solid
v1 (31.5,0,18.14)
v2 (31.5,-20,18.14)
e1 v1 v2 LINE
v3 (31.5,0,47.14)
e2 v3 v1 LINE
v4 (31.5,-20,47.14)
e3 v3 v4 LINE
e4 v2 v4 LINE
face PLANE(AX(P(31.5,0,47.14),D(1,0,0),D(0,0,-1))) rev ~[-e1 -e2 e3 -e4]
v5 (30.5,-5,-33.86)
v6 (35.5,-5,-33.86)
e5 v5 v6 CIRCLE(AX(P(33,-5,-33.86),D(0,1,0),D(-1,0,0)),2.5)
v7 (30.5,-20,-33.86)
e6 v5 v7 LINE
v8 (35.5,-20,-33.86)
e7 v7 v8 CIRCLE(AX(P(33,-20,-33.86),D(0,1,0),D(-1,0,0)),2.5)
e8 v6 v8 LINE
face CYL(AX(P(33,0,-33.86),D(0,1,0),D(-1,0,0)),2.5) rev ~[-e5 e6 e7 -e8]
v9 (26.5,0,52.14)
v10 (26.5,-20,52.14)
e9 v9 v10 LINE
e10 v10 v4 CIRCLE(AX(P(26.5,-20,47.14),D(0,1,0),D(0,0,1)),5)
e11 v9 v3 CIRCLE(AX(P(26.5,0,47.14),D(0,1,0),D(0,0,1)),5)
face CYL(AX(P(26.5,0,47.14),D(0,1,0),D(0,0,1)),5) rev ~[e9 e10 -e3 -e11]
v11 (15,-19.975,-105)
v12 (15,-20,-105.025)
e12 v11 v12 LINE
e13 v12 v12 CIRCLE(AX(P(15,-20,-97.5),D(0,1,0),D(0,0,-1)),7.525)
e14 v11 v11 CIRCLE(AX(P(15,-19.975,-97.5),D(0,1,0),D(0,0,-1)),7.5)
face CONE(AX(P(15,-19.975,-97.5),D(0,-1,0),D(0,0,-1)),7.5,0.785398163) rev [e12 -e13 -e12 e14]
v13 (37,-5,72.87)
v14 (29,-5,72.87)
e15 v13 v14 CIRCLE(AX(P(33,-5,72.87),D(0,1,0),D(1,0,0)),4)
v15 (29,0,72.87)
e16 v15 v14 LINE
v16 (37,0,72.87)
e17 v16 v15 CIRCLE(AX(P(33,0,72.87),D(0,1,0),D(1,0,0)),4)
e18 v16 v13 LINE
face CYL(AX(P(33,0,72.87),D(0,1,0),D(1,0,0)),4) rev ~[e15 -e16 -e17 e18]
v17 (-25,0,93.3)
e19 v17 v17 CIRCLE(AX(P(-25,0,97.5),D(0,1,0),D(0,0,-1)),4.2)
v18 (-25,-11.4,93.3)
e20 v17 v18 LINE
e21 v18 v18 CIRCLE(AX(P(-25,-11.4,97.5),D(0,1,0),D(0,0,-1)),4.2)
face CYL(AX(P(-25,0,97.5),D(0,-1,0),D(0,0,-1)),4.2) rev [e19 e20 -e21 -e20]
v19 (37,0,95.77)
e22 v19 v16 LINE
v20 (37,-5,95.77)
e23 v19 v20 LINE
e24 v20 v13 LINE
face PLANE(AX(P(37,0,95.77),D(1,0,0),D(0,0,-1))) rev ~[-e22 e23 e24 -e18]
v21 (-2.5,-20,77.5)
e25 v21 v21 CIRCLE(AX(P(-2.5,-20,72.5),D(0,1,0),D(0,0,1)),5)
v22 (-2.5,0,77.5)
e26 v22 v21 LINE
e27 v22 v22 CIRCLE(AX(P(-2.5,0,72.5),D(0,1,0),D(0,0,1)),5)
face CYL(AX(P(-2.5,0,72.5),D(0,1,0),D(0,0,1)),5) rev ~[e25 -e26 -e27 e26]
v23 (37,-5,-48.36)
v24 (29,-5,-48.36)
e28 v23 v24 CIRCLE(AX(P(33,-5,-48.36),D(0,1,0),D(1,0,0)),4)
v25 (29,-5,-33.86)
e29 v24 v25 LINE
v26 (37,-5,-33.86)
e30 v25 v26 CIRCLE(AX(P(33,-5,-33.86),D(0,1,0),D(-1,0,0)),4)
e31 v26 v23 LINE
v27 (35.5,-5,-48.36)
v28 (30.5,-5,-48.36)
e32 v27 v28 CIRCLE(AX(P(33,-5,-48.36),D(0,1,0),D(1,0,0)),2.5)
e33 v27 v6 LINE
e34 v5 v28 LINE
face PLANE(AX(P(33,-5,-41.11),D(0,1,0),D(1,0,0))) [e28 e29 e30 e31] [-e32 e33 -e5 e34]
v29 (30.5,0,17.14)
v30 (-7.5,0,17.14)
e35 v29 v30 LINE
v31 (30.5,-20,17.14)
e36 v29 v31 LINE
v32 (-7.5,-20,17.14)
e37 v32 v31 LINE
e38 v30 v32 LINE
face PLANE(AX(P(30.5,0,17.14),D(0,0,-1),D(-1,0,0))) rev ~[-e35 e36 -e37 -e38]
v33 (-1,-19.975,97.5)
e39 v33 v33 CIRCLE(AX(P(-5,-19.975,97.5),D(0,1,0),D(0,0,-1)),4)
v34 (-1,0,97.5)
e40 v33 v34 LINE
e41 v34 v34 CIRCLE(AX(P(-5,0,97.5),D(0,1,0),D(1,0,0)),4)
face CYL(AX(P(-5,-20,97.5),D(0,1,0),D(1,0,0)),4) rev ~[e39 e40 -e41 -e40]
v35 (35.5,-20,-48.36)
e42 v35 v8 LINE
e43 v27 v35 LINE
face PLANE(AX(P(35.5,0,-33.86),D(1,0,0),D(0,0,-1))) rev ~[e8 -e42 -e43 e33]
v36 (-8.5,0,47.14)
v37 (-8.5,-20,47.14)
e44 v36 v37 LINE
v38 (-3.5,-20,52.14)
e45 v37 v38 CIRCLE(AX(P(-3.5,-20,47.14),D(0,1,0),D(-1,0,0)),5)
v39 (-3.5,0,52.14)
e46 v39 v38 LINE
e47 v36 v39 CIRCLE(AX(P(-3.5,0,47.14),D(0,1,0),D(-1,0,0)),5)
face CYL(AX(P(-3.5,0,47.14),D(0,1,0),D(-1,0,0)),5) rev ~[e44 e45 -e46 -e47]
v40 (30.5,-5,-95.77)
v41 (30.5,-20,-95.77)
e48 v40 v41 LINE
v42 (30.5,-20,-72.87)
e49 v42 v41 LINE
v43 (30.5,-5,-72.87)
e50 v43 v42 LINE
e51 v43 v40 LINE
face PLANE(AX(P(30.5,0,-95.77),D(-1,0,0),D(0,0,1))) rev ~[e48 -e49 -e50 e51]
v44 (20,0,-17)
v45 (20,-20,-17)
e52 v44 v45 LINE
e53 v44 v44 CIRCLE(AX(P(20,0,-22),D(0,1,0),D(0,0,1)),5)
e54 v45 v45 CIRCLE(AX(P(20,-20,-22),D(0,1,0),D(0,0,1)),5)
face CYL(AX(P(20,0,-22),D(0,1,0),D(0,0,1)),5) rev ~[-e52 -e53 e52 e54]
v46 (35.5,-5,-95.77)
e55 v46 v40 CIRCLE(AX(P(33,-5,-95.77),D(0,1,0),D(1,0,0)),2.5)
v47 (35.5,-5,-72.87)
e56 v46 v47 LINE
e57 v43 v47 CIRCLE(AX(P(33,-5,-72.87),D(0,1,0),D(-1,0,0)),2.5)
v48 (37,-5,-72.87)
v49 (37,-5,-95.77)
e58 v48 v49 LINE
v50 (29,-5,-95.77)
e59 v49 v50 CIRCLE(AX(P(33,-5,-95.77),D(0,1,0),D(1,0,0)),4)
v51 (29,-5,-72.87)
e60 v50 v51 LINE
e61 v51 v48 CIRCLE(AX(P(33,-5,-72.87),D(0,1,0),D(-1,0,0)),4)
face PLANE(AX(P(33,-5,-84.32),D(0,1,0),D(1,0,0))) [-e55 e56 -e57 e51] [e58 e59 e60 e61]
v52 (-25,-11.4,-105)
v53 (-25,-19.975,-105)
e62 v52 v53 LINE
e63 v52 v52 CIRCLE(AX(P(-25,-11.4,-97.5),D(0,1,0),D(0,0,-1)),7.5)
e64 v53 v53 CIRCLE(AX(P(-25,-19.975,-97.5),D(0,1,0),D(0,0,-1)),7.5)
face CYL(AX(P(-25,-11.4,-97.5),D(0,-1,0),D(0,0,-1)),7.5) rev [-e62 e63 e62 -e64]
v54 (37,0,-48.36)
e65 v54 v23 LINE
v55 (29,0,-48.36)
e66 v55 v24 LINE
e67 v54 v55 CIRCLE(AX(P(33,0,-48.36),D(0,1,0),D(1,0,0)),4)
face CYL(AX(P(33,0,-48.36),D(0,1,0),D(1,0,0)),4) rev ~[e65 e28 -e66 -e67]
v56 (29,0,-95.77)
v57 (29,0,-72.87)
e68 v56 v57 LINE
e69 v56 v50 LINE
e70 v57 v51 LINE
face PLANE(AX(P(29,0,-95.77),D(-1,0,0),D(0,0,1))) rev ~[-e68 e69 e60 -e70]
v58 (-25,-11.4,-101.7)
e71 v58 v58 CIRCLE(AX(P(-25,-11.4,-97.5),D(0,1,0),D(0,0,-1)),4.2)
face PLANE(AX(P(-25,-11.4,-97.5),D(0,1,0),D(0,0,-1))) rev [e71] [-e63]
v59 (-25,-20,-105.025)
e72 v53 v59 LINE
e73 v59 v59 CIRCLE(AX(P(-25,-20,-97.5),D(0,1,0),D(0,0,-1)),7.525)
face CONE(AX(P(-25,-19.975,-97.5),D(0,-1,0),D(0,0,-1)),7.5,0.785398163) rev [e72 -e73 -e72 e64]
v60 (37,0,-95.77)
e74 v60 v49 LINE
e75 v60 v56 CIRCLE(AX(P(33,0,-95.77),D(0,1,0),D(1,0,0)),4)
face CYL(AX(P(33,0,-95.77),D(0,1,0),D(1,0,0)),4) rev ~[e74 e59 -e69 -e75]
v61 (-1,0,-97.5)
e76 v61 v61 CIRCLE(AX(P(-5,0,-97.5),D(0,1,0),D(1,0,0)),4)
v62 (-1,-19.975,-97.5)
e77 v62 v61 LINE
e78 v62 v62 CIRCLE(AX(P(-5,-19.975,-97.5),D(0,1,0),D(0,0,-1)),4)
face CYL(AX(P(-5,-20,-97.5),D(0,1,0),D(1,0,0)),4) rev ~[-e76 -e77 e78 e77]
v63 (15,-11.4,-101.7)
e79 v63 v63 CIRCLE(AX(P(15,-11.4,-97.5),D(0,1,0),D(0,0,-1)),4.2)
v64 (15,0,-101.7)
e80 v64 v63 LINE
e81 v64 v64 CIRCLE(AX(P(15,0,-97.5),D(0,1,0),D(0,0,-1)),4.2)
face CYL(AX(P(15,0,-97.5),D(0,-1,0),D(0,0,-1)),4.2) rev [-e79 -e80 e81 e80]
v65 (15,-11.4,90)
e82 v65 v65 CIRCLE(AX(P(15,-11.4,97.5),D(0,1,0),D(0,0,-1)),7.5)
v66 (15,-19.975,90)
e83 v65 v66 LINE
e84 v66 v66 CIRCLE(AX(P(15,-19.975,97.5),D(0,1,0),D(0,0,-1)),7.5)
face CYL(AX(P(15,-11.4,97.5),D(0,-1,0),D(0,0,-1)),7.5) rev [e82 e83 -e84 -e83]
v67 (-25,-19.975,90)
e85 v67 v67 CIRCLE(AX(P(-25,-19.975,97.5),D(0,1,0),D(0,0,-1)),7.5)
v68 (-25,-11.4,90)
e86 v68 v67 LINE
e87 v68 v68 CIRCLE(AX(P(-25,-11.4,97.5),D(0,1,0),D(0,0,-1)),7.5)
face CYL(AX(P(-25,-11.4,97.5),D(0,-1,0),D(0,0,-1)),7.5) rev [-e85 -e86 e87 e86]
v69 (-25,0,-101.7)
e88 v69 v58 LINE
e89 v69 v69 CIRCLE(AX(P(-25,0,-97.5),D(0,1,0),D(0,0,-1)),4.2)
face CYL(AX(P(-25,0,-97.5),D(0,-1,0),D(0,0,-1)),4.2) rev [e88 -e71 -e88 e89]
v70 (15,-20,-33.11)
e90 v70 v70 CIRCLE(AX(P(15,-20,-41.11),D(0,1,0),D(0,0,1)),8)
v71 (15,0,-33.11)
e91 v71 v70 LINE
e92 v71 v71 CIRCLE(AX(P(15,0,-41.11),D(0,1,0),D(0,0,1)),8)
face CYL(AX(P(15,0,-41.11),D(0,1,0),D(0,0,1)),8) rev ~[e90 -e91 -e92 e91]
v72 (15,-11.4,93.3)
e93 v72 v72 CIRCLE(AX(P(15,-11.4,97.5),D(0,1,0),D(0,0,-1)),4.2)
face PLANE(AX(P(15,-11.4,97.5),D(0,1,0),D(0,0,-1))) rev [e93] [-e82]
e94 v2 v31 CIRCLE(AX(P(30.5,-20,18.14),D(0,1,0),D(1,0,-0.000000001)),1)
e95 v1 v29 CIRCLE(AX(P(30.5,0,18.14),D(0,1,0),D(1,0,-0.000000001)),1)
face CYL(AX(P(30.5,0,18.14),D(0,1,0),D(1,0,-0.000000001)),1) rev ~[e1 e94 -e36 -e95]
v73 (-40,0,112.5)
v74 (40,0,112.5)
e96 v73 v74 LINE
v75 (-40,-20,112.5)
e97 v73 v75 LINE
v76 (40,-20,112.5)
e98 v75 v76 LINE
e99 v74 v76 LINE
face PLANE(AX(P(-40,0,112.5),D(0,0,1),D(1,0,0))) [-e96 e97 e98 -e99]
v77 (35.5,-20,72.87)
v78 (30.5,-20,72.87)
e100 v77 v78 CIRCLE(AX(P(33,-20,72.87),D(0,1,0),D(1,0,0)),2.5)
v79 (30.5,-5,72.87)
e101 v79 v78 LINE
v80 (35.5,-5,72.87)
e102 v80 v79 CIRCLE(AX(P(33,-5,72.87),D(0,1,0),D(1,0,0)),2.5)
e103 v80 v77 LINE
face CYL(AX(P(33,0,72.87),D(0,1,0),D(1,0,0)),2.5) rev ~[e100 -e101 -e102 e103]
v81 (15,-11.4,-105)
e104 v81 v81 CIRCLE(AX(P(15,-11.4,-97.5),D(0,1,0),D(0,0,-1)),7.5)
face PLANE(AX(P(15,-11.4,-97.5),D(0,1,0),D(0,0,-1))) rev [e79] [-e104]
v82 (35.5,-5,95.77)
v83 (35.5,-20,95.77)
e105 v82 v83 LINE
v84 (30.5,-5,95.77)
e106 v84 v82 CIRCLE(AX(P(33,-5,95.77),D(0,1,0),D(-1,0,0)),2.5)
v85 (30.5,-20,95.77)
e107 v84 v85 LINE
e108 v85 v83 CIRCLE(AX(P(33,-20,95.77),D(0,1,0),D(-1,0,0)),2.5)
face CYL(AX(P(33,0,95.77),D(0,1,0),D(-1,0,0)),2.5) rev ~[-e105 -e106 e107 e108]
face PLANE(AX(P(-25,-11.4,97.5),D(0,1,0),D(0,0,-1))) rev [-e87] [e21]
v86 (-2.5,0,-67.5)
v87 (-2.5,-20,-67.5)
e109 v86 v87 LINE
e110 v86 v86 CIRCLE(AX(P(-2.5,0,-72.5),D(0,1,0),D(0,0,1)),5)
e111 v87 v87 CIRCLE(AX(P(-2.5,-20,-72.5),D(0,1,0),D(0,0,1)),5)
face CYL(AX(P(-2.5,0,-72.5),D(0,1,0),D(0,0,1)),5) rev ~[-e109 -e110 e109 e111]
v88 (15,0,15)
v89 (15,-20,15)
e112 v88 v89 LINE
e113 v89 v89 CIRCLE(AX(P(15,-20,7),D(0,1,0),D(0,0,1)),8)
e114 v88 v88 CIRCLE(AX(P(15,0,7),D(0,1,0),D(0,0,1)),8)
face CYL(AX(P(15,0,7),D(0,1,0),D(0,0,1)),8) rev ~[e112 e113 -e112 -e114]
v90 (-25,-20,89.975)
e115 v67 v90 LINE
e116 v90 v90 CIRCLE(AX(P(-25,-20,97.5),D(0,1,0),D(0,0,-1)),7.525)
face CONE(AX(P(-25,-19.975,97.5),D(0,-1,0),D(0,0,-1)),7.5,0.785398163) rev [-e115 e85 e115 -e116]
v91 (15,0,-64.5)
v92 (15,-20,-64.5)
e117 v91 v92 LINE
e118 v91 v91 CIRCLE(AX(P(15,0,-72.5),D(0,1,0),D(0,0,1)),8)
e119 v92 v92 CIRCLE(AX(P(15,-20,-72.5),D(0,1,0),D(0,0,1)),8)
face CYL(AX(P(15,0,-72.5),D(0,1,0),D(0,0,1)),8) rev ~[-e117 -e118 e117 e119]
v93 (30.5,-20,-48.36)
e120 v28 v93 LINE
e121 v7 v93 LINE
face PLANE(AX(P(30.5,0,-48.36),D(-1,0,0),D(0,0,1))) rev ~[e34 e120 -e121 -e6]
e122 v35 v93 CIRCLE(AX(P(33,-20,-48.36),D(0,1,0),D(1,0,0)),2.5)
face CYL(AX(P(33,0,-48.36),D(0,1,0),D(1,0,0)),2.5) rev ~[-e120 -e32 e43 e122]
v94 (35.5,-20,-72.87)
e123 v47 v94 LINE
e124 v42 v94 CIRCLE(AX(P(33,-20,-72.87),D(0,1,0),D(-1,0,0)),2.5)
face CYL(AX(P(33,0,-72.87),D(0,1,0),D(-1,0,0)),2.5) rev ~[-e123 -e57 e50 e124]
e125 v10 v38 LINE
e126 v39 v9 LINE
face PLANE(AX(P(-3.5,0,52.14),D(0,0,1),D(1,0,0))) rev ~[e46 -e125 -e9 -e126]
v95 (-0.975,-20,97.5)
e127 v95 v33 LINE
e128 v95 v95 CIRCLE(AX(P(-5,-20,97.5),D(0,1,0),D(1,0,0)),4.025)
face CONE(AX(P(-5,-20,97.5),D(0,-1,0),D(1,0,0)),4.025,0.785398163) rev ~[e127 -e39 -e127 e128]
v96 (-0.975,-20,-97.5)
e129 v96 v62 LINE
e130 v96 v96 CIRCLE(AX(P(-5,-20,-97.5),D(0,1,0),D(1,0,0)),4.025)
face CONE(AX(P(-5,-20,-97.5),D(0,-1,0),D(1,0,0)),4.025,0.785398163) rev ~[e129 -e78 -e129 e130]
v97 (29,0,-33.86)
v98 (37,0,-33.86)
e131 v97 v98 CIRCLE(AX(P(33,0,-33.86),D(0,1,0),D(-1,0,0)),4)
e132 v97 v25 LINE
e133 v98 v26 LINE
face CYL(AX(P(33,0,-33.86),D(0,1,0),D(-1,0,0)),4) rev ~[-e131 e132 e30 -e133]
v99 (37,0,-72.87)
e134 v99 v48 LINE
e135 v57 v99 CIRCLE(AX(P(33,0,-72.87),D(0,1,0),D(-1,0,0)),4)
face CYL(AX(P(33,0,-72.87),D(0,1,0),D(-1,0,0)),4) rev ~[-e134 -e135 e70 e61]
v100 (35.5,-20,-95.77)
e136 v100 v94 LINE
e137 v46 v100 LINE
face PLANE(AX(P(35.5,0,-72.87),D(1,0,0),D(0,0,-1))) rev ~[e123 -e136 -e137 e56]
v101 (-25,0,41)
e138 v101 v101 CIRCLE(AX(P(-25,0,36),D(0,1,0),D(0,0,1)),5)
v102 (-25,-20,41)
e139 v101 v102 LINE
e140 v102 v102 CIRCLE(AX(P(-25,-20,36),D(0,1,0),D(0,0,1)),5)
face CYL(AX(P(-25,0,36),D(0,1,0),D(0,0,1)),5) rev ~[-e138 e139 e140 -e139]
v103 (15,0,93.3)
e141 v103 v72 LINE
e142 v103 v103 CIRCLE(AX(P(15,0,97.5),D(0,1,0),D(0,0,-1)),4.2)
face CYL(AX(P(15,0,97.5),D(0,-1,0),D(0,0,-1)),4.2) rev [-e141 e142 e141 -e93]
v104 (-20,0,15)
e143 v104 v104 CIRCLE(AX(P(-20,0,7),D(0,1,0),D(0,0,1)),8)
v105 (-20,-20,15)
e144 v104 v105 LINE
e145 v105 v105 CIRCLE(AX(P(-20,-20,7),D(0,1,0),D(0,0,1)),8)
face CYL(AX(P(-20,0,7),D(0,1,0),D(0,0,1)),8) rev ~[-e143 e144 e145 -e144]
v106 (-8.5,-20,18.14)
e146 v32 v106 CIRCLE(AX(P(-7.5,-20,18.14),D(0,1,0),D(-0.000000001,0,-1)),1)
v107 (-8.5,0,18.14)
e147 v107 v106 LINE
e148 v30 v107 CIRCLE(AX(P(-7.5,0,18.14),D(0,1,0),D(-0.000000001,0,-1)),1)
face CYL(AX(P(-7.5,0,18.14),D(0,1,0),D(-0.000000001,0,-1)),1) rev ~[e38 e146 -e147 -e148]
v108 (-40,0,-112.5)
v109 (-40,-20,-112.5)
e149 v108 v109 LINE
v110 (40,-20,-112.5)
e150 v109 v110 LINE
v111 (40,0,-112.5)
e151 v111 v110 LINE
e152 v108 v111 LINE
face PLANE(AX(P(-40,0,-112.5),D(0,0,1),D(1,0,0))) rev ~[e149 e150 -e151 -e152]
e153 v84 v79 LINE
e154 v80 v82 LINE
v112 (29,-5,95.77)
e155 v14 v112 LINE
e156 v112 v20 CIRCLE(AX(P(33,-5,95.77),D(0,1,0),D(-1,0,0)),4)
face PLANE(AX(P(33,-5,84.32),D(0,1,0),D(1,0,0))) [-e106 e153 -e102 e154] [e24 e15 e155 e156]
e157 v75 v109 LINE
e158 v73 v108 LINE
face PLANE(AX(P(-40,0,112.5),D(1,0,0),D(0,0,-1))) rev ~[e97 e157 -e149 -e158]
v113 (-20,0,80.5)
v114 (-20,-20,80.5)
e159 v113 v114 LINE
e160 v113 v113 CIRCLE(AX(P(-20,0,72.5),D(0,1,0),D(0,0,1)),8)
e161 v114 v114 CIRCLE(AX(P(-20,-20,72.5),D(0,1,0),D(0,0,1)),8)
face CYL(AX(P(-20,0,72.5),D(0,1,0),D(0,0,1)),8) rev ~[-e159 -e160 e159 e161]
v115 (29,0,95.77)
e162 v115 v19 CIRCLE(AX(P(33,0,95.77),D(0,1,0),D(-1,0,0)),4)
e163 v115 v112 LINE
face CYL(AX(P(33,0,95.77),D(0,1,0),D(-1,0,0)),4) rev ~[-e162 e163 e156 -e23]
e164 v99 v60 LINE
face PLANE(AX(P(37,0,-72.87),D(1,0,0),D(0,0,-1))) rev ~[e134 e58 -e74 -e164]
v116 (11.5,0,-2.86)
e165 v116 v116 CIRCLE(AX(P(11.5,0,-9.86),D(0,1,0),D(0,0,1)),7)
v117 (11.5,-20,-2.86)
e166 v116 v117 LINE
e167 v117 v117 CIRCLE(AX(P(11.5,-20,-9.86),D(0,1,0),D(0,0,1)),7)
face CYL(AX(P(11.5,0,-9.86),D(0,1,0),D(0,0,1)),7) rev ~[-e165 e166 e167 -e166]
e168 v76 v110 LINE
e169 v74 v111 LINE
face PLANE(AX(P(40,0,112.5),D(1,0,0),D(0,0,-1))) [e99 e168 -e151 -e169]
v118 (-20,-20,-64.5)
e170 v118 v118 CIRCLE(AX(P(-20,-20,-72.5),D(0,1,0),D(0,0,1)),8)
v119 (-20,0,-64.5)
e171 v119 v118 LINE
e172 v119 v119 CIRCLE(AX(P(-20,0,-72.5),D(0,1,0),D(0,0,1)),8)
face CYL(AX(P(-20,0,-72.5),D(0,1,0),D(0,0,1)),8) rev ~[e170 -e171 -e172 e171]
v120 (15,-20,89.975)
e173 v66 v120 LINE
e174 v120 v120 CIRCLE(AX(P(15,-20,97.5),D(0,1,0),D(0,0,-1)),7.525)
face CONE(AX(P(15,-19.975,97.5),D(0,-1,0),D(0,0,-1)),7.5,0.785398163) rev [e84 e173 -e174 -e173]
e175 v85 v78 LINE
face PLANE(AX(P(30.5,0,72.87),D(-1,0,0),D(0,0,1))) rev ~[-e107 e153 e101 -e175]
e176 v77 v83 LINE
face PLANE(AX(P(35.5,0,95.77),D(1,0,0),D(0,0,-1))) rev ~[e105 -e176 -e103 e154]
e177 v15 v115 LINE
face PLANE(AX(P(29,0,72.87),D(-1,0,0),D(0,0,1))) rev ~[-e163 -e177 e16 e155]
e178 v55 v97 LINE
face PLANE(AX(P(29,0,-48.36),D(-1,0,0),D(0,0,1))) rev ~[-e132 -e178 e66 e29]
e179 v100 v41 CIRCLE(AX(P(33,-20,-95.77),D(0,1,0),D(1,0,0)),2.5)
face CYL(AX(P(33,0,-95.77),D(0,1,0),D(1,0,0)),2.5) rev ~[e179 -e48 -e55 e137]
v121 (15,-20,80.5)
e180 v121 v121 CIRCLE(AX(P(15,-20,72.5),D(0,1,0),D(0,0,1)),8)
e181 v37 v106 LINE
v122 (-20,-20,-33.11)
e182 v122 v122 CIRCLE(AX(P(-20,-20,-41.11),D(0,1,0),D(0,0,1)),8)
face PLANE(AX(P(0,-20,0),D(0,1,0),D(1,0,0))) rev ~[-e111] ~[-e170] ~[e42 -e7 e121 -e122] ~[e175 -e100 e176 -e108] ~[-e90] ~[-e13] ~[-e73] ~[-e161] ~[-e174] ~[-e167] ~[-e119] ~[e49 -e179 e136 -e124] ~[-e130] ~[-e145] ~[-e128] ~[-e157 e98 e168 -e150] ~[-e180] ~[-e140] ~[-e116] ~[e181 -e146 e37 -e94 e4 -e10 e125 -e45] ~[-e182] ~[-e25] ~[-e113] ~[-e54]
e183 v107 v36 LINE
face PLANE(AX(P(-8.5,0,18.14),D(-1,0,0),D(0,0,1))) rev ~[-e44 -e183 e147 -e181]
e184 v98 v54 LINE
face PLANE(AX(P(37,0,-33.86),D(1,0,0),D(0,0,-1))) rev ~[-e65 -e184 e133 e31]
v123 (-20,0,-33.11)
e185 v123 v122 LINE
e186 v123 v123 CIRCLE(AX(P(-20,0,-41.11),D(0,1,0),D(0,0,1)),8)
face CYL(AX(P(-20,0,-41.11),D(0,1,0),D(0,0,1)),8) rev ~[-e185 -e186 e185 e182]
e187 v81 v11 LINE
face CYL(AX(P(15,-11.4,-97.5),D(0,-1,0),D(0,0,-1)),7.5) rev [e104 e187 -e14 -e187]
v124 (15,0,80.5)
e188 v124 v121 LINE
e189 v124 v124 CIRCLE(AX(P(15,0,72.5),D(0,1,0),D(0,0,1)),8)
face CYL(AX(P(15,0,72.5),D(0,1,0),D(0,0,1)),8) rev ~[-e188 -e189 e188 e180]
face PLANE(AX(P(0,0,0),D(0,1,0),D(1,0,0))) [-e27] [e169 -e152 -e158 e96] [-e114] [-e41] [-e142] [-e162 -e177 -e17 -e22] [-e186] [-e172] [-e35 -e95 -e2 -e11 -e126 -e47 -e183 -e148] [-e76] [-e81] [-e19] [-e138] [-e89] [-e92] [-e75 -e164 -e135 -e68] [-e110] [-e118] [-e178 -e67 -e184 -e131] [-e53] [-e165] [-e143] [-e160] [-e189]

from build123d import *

# Parameters (mm, degrees)
SKETCH1_W                                    = 80
SKETCH1_H                                    = 225
BOSS_EXTRUDE1_DEPTH                          = 20
CUT_EXTRUDE1_REACH                           = 123.063
CUT_EXTRUDE2_REACH                           = 123.063
CUT_EXTRUDE3_DEPTH                           = 5
CBORE_FOR_M8_HEX_SOCKET_HEAD_CAP_SCR_2_COUNT = 2
CBORE_FOR_M8_HEX_SOCKET_HEAD_CAP_SCR_2_PITCH = 40
CBORE_FOR_M8_HEX_SOCKET_HEAD_CAP_SCR_3_COUNT = 2
CBORE_FOR_M8_HEX_SOCKET_HEAD_CAP_SCR_3_PITCH = 199.060292374
CBORE_FOR_M8_HEX_SOCKET_HEAD_CAP_SCR_4_COUNT = 2
CBORE_FOR_M8_HEX_SOCKET_HEAD_CAP_SCR_4_PITCH = 195
F_8_0MM_DOWEL_HOLE1_D                        = 8
F_8_0MM_DOWEL_HOLE1_CSINK_D                  = 8.05
F_8_0MM_DOWEL_HOLE1_CSINK_ANGLE              = 90
CUT_EXTRUDE4_REACH                           = 123.063
SKETCH13_R                                   = 8
CUT_EXTRUDE5_REACH                           = 123.063
SKETCH15_R                                   = 5
CUT_EXTRUDE6_REACH                           = 123.063
SKETCH17_R                                   = 7


with BuildPart() as part:
    # Sketch1 → Boss-Extrude1 (new body)
    with BuildSketch(Plane(origin=(0, 0, 0), x_dir=(1, 0, 0), z_dir=(0, 1, 0))):
        Rectangle(SKETCH1_W, SKETCH1_H)
    extrude(amount=-BOSS_EXTRUDE1_DEPTH)

    # Sketch2 → Cut-Extrude1 (cut, up to next)
    with BuildSketch(Plane(origin=(0, 0, 0), x_dir=(1, 0, 0), z_dir=(0, 1, 0)), mode=Mode.PRIVATE) as cut_extrude1_sk1:
        with BuildLine():
            Line((31.5, -47.14), (31.5, -18.14))
            ThreePointArc((31.5, -18.14), (31.207106781, -17.432893219), (30.5, -17.14))
            Line((30.5, -17.14), (-7.5, -17.14))
            ThreePointArc((-7.5, -17.14), (-8.207106781, -17.432893219), (-8.5, -18.14))
            Line((-8.5, -18.14), (-8.5, -47.14))
            ThreePointArc((-8.5, -47.14), (-7.035533906, -50.675533906), (-3.5, -52.14))
            Line((-3.5, -52.14), (26.5, -52.14))
            ThreePointArc((26.5, -52.14), (30.035533906, -50.675533906), (31.5, -47.14))
        make_face()
    cut_extrude1_tool1 = extrude(cut_extrude1_sk1.sketch, amount=-CUT_EXTRUDE1_REACH, mode=Mode.PRIVATE) & part.part
    add(cut_extrude1_tool1.solids().sort_by_distance((11.5, 0, 34.518764))[0], mode=Mode.SUBTRACT)

    # Sketch3 → Cut-Extrude2 (cut, up to next)
    with BuildSketch(Plane(origin=(0, 0, 0), x_dir=(1, 0, 0), z_dir=(0, 1, 0)), mode=Mode.PRIVATE) as cut_extrude2_sk1:
        with BuildLine():
            Line((35.5, -95.77), (35.5, -72.87))
            ThreePointArc((35.5, -72.87), (33, -70.37), (30.5, -72.87))
            Line((30.5, -72.87), (30.5, -95.77))
            ThreePointArc((30.5, -95.77), (33, -98.27), (35.5, -95.77))
        make_face()
    cut_extrude2_tool1 = extrude(cut_extrude2_sk1.sketch, amount=-CUT_EXTRUDE2_REACH, mode=Mode.PRIVATE) & part.part
    # Sketch3 → Cut-Extrude2 (cut, up to next)
    with BuildSketch(Plane(origin=(0, 0, 0), x_dir=(1, 0, 0), z_dir=(0, 1, 0)), mode=Mode.PRIVATE) as cut_extrude2_sk2:
        with BuildLine():
            Line((35.5, 33.86), (35.5, 48.36))
            ThreePointArc((35.5, 48.36), (33, 50.86), (30.5, 48.36))
            Line((30.5, 48.36), (30.5, 33.86))
            ThreePointArc((30.5, 33.86), (33, 31.36), (35.5, 33.86))
        make_face()
    cut_extrude2_tool2 = extrude(cut_extrude2_sk2.sketch, amount=-CUT_EXTRUDE2_REACH, mode=Mode.PRIVATE) & part.part
    # Sketch3 → Cut-Extrude2 (cut, up to next)
    with BuildSketch(Plane(origin=(0, 0, 0), x_dir=(1, 0, 0), z_dir=(0, 1, 0)), mode=Mode.PRIVATE) as cut_extrude2_sk3:
        with BuildLine():
            Line((35.5, 72.87), (35.5, 95.77))
            ThreePointArc((35.5, 95.77), (33, 98.27), (30.5, 95.77))
            Line((30.5, 95.77), (30.5, 72.87))
            ThreePointArc((30.5, 72.87), (33, 70.37), (35.5, 72.87))
        make_face()
    cut_extrude2_tool3 = extrude(cut_extrude2_sk3.sketch, amount=-CUT_EXTRUDE2_REACH, mode=Mode.PRIVATE) & part.part
    add(cut_extrude2_tool1.solids().sort_by_distance((33, 0, 84.32))[0], mode=Mode.SUBTRACT)
    add(cut_extrude2_tool2.solids().sort_by_distance((33, 0, -41.11))[0], mode=Mode.SUBTRACT)
    add(cut_extrude2_tool3.solids().sort_by_distance((33, 0, -84.32))[0], mode=Mode.SUBTRACT)

    # Sketch4 → Cut-Extrude3 (cut)
    with BuildSketch(Plane(origin=(0, 0, 0), x_dir=(1, 0, 0), z_dir=(0, 1, 0))):
        with BuildLine():
            Line((37, 72.87), (37, 95.77))
            ThreePointArc((37, 95.77), (33, 99.77), (29, 95.77))
            Line((29, 95.77), (29, 72.87))
            ThreePointArc((29, 72.87), (33, 68.87), (37, 72.87))
        make_face()
        with BuildLine():
            Line((37, 33.86), (37, 48.36))
            ThreePointArc((37, 48.36), (33, 52.36), (29, 48.36))
            Line((29, 48.36), (29, 33.86))
            ThreePointArc((29, 33.86), (33, 29.86), (37, 33.86))
        make_face()
        with BuildLine():
            Line((37, -95.77), (37, -72.87))
            ThreePointArc((37, -72.87), (33, -68.87), (29, -72.87))
            Line((29, -72.87), (29, -95.77))
            ThreePointArc((29, -95.77), (33, -99.77), (37, -95.77))
        make_face()
    extrude(amount=-CUT_EXTRUDE3_DEPTH, mode=Mode.SUBTRACT)

    # Sketch8 → CBORE for M8 Hex Socket Head Cap Screw1 (revolve, cut)
    with BuildSketch(Plane(origin=(-25, -20, -97.5), x_dir=(0, 0, -1), z_dir=(1, 0, 0))):
        Polygon((0, 0), (0, 20), (4.2, 20), (4.2, 8.6), (7.5, 8.6), (7.5, 0.025), (7.525, 0), align=None)
    cbore_for_m8_hex_socket_head_cap_screw1 = revolve(axis=Axis((-25, -26.35, -97.5), (0, 1, 0)), mode=Mode.SUBTRACT)

    # CBORE for M8 Hex Socket Head Cap Scr 2: CBORE for M8 Hex Socket Head Cap Screw1 ×2
    with Locations(*[(i * CBORE_FOR_M8_HEX_SOCKET_HEAD_CAP_SCR_2_PITCH, 0, 0) for i in range(1, CBORE_FOR_M8_HEX_SOCKET_HEAD_CAP_SCR_2_COUNT)]):
        add(cbore_for_m8_hex_socket_head_cap_screw1, mode=Mode.SUBTRACT)

    # CBORE for M8 Hex Socket Head Cap Scr 3: CBORE for M8 Hex Socket Head Cap Screw1 ×2
    with Locations(*[Vector(0.2009441437213313, 0, 0.9796027006414901) * (i * CBORE_FOR_M8_HEX_SOCKET_HEAD_CAP_SCR_3_PITCH) for i in range(1, CBORE_FOR_M8_HEX_SOCKET_HEAD_CAP_SCR_3_COUNT)]):
        add(cbore_for_m8_hex_socket_head_cap_screw1, mode=Mode.SUBTRACT)

    # CBORE for M8 Hex Socket Head Cap Scr 4: CBORE for M8 Hex Socket Head Cap Screw1 ×2
    with Locations(*[(0, 0, i * CBORE_FOR_M8_HEX_SOCKET_HEAD_CAP_SCR_4_PITCH) for i in range(1, CBORE_FOR_M8_HEX_SOCKET_HEAD_CAP_SCR_4_COUNT)]):
        add(cbore_for_m8_hex_socket_head_cap_screw1, mode=Mode.SUBTRACT)

    # Ø8.0mm Dowel Hole1 (through all)
    with Locations(Plane(origin=(0, -20, 0), x_dir=(-1, 0, 0), z_dir=(0, -1, 0))):
        with Locations((5, -97.5), (5, 97.5)):
            CounterSinkHole(F_8_0MM_DOWEL_HOLE1_D / 2, F_8_0MM_DOWEL_HOLE1_CSINK_D / 2, counter_sink_angle=F_8_0MM_DOWEL_HOLE1_CSINK_ANGLE)

    # Sketch13 → Cut-Extrude4 (cut, up to next)
    with BuildSketch(Plane(origin=(0, 0, 0), x_dir=(1, 0, 0), z_dir=(0, 1, 0)), mode=Mode.PRIVATE) as cut_extrude4_sk1:
        with Locations(Location((15, 41.11, 0), (0, 0, 270))):
            Circle(SKETCH13_R)
    cut_extrude4_tool1 = extrude(cut_extrude4_sk1.sketch, amount=-CUT_EXTRUDE4_REACH, mode=Mode.PRIVATE) & part.part
    # Sketch13 → Cut-Extrude4 (cut, up to next)
    with BuildSketch(Plane(origin=(0, 0, 0), x_dir=(1, 0, 0), z_dir=(0, 1, 0)), mode=Mode.PRIVATE) as cut_extrude4_sk2:
        with Locations(Location((15, -7, 0), (0, 0, 270))):
            Circle(SKETCH13_R)
    cut_extrude4_tool2 = extrude(cut_extrude4_sk2.sketch, amount=-CUT_EXTRUDE4_REACH, mode=Mode.PRIVATE) & part.part
    # Sketch13 → Cut-Extrude4 (cut, up to next)
    with BuildSketch(Plane(origin=(0, 0, 0), x_dir=(1, 0, 0), z_dir=(0, 1, 0)), mode=Mode.PRIVATE) as cut_extrude4_sk3:
        with Locations(Location((15, -72.5, 0), (0, 0, 270))):
            Circle(SKETCH13_R)
    cut_extrude4_tool3 = extrude(cut_extrude4_sk3.sketch, amount=-CUT_EXTRUDE4_REACH, mode=Mode.PRIVATE) & part.part
    # Sketch13 → Cut-Extrude4 (cut, up to next)
    with BuildSketch(Plane(origin=(0, 0, 0), x_dir=(1, 0, 0), z_dir=(0, 1, 0)), mode=Mode.PRIVATE) as cut_extrude4_sk4:
        with Locations(Location((-20, -72.5, 0), (0, 0, 270))):
            Circle(SKETCH13_R)
    cut_extrude4_tool4 = extrude(cut_extrude4_sk4.sketch, amount=-CUT_EXTRUDE4_REACH, mode=Mode.PRIVATE) & part.part
    # Sketch13 → Cut-Extrude4 (cut, up to next)
    with BuildSketch(Plane(origin=(0, 0, 0), x_dir=(1, 0, 0), z_dir=(0, 1, 0)), mode=Mode.PRIVATE) as cut_extrude4_sk5:
        with Locations(Location((-20, -7, 0), (0, 0, 270))):
            Circle(SKETCH13_R)
    cut_extrude4_tool5 = extrude(cut_extrude4_sk5.sketch, amount=-CUT_EXTRUDE4_REACH, mode=Mode.PRIVATE) & part.part
    # Sketch13 → Cut-Extrude4 (cut, up to next)
    with BuildSketch(Plane(origin=(0, 0, 0), x_dir=(1, 0, 0), z_dir=(0, 1, 0)), mode=Mode.PRIVATE) as cut_extrude4_sk6:
        with Locations(Location((-20, 41.11, 0), (0, 0, 270))):
            Circle(SKETCH13_R)
    cut_extrude4_tool6 = extrude(cut_extrude4_sk6.sketch, amount=-CUT_EXTRUDE4_REACH, mode=Mode.PRIVATE) & part.part
    # Sketch13 → Cut-Extrude4 (cut, up to next)
    with BuildSketch(Plane(origin=(0, 0, 0), x_dir=(1, 0, 0), z_dir=(0, 1, 0)), mode=Mode.PRIVATE) as cut_extrude4_sk7:
        with Locations(Location((-20, 72.5, 0), (0, 0, 270))):
            Circle(SKETCH13_R)
    cut_extrude4_tool7 = extrude(cut_extrude4_sk7.sketch, amount=-CUT_EXTRUDE4_REACH, mode=Mode.PRIVATE) & part.part
    # Sketch13 → Cut-Extrude4 (cut, up to next)
    with BuildSketch(Plane(origin=(0, 0, 0), x_dir=(1, 0, 0), z_dir=(0, 1, 0)), mode=Mode.PRIVATE) as cut_extrude4_sk8:
        with Locations(Location((15, 72.5, 0), (0, 0, 270))):
            Circle(SKETCH13_R)
    cut_extrude4_tool8 = extrude(cut_extrude4_sk8.sketch, amount=-CUT_EXTRUDE4_REACH, mode=Mode.PRIVATE) & part.part
    add(cut_extrude4_tool1.solids().sort_by_distance((15, 0, -41.11))[0], mode=Mode.SUBTRACT)
    add(cut_extrude4_tool2.solids().sort_by_distance((15, 0, 7))[0], mode=Mode.SUBTRACT)
    add(cut_extrude4_tool3.solids().sort_by_distance((15, 0, 72.5))[0], mode=Mode.SUBTRACT)
    add(cut_extrude4_tool4.solids().sort_by_distance((-20, 0, 72.5))[0], mode=Mode.SUBTRACT)
    add(cut_extrude4_tool5.solids().sort_by_distance((-20, 0, 7))[0], mode=Mode.SUBTRACT)
    add(cut_extrude4_tool6.solids().sort_by_distance((-20, 0, -41.11))[0], mode=Mode.SUBTRACT)
    add(cut_extrude4_tool7.solids().sort_by_distance((-20, 0, -72.5))[0], mode=Mode.SUBTRACT)
    add(cut_extrude4_tool8.solids().sort_by_distance((15, 0, -72.5))[0], mode=Mode.SUBTRACT)

    # Sketch15 → Cut-Extrude5 (cut, up to next)
    with BuildSketch(Plane(origin=(0, 0, 0), x_dir=(1, 0, 0), z_dir=(0, 1, 0)), mode=Mode.PRIVATE) as cut_extrude5_sk1:
        with Locations(Location((-2.5, -72.5, 0), (0, 0, 270))):
            Circle(SKETCH15_R)
    cut_extrude5_tool1 = extrude(cut_extrude5_sk1.sketch, amount=-CUT_EXTRUDE5_REACH, mode=Mode.PRIVATE) & part.part
    # Sketch15 → Cut-Extrude5 (cut, up to next)
    with BuildSketch(Plane(origin=(0, 0, 0), x_dir=(1, 0, 0), z_dir=(0, 1, 0)), mode=Mode.PRIVATE) as cut_extrude5_sk2:
        with Locations(Location((-25, -36, 0), (0, 0, 270))):
            Circle(SKETCH15_R)
    cut_extrude5_tool2 = extrude(cut_extrude5_sk2.sketch, amount=-CUT_EXTRUDE5_REACH, mode=Mode.PRIVATE) & part.part
    # Sketch15 → Cut-Extrude5 (cut, up to next)
    with BuildSketch(Plane(origin=(0, 0, 0), x_dir=(1, 0, 0), z_dir=(0, 1, 0)), mode=Mode.PRIVATE) as cut_extrude5_sk3:
        with Locations(Location((20, 22, 0), (0, 0, 270))):
            Circle(SKETCH15_R)
    cut_extrude5_tool3 = extrude(cut_extrude5_sk3.sketch, amount=-CUT_EXTRUDE5_REACH, mode=Mode.PRIVATE) & part.part
    # Sketch15 → Cut-Extrude5 (cut, up to next)
    with BuildSketch(Plane(origin=(0, 0, 0), x_dir=(1, 0, 0), z_dir=(0, 1, 0)), mode=Mode.PRIVATE) as cut_extrude5_sk4:
        with Locations(Location((-2.5, 72.5, 0), (0, 0, 270))):
            Circle(SKETCH15_R)
    cut_extrude5_tool4 = extrude(cut_extrude5_sk4.sketch, amount=-CUT_EXTRUDE5_REACH, mode=Mode.PRIVATE) & part.part
    add(cut_extrude5_tool1.solids().sort_by_distance((-2.5, 0, 72.5))[0], mode=Mode.SUBTRACT)
    add(cut_extrude5_tool2.solids().sort_by_distance((-25, 0, 36))[0], mode=Mode.SUBTRACT)
    add(cut_extrude5_tool3.solids().sort_by_distance((20, 0, -22))[0], mode=Mode.SUBTRACT)
    add(cut_extrude5_tool4.solids().sort_by_distance((-2.5, 0, -72.5))[0], mode=Mode.SUBTRACT)

    # Sketch17 → Cut-Extrude6 (cut, up to next)
    with BuildSketch(Plane(origin=(0, 0, 0), x_dir=(1, 0, 0), z_dir=(0, 1, 0)), mode=Mode.PRIVATE) as cut_extrude6_sk1:
        with Locations(Location((11.5, 9.86, 0), (0, 0, 270))):
            Circle(SKETCH17_R)
    cut_extrude6_tool1 = extrude(cut_extrude6_sk1.sketch, amount=-CUT_EXTRUDE6_REACH, mode=Mode.PRIVATE) & part.part
    add(cut_extrude6_tool1.solids().sort_by_distance((11.5, 0, -9.86))[0], mode=Mode.SUBTRACT)


solid = part.part
